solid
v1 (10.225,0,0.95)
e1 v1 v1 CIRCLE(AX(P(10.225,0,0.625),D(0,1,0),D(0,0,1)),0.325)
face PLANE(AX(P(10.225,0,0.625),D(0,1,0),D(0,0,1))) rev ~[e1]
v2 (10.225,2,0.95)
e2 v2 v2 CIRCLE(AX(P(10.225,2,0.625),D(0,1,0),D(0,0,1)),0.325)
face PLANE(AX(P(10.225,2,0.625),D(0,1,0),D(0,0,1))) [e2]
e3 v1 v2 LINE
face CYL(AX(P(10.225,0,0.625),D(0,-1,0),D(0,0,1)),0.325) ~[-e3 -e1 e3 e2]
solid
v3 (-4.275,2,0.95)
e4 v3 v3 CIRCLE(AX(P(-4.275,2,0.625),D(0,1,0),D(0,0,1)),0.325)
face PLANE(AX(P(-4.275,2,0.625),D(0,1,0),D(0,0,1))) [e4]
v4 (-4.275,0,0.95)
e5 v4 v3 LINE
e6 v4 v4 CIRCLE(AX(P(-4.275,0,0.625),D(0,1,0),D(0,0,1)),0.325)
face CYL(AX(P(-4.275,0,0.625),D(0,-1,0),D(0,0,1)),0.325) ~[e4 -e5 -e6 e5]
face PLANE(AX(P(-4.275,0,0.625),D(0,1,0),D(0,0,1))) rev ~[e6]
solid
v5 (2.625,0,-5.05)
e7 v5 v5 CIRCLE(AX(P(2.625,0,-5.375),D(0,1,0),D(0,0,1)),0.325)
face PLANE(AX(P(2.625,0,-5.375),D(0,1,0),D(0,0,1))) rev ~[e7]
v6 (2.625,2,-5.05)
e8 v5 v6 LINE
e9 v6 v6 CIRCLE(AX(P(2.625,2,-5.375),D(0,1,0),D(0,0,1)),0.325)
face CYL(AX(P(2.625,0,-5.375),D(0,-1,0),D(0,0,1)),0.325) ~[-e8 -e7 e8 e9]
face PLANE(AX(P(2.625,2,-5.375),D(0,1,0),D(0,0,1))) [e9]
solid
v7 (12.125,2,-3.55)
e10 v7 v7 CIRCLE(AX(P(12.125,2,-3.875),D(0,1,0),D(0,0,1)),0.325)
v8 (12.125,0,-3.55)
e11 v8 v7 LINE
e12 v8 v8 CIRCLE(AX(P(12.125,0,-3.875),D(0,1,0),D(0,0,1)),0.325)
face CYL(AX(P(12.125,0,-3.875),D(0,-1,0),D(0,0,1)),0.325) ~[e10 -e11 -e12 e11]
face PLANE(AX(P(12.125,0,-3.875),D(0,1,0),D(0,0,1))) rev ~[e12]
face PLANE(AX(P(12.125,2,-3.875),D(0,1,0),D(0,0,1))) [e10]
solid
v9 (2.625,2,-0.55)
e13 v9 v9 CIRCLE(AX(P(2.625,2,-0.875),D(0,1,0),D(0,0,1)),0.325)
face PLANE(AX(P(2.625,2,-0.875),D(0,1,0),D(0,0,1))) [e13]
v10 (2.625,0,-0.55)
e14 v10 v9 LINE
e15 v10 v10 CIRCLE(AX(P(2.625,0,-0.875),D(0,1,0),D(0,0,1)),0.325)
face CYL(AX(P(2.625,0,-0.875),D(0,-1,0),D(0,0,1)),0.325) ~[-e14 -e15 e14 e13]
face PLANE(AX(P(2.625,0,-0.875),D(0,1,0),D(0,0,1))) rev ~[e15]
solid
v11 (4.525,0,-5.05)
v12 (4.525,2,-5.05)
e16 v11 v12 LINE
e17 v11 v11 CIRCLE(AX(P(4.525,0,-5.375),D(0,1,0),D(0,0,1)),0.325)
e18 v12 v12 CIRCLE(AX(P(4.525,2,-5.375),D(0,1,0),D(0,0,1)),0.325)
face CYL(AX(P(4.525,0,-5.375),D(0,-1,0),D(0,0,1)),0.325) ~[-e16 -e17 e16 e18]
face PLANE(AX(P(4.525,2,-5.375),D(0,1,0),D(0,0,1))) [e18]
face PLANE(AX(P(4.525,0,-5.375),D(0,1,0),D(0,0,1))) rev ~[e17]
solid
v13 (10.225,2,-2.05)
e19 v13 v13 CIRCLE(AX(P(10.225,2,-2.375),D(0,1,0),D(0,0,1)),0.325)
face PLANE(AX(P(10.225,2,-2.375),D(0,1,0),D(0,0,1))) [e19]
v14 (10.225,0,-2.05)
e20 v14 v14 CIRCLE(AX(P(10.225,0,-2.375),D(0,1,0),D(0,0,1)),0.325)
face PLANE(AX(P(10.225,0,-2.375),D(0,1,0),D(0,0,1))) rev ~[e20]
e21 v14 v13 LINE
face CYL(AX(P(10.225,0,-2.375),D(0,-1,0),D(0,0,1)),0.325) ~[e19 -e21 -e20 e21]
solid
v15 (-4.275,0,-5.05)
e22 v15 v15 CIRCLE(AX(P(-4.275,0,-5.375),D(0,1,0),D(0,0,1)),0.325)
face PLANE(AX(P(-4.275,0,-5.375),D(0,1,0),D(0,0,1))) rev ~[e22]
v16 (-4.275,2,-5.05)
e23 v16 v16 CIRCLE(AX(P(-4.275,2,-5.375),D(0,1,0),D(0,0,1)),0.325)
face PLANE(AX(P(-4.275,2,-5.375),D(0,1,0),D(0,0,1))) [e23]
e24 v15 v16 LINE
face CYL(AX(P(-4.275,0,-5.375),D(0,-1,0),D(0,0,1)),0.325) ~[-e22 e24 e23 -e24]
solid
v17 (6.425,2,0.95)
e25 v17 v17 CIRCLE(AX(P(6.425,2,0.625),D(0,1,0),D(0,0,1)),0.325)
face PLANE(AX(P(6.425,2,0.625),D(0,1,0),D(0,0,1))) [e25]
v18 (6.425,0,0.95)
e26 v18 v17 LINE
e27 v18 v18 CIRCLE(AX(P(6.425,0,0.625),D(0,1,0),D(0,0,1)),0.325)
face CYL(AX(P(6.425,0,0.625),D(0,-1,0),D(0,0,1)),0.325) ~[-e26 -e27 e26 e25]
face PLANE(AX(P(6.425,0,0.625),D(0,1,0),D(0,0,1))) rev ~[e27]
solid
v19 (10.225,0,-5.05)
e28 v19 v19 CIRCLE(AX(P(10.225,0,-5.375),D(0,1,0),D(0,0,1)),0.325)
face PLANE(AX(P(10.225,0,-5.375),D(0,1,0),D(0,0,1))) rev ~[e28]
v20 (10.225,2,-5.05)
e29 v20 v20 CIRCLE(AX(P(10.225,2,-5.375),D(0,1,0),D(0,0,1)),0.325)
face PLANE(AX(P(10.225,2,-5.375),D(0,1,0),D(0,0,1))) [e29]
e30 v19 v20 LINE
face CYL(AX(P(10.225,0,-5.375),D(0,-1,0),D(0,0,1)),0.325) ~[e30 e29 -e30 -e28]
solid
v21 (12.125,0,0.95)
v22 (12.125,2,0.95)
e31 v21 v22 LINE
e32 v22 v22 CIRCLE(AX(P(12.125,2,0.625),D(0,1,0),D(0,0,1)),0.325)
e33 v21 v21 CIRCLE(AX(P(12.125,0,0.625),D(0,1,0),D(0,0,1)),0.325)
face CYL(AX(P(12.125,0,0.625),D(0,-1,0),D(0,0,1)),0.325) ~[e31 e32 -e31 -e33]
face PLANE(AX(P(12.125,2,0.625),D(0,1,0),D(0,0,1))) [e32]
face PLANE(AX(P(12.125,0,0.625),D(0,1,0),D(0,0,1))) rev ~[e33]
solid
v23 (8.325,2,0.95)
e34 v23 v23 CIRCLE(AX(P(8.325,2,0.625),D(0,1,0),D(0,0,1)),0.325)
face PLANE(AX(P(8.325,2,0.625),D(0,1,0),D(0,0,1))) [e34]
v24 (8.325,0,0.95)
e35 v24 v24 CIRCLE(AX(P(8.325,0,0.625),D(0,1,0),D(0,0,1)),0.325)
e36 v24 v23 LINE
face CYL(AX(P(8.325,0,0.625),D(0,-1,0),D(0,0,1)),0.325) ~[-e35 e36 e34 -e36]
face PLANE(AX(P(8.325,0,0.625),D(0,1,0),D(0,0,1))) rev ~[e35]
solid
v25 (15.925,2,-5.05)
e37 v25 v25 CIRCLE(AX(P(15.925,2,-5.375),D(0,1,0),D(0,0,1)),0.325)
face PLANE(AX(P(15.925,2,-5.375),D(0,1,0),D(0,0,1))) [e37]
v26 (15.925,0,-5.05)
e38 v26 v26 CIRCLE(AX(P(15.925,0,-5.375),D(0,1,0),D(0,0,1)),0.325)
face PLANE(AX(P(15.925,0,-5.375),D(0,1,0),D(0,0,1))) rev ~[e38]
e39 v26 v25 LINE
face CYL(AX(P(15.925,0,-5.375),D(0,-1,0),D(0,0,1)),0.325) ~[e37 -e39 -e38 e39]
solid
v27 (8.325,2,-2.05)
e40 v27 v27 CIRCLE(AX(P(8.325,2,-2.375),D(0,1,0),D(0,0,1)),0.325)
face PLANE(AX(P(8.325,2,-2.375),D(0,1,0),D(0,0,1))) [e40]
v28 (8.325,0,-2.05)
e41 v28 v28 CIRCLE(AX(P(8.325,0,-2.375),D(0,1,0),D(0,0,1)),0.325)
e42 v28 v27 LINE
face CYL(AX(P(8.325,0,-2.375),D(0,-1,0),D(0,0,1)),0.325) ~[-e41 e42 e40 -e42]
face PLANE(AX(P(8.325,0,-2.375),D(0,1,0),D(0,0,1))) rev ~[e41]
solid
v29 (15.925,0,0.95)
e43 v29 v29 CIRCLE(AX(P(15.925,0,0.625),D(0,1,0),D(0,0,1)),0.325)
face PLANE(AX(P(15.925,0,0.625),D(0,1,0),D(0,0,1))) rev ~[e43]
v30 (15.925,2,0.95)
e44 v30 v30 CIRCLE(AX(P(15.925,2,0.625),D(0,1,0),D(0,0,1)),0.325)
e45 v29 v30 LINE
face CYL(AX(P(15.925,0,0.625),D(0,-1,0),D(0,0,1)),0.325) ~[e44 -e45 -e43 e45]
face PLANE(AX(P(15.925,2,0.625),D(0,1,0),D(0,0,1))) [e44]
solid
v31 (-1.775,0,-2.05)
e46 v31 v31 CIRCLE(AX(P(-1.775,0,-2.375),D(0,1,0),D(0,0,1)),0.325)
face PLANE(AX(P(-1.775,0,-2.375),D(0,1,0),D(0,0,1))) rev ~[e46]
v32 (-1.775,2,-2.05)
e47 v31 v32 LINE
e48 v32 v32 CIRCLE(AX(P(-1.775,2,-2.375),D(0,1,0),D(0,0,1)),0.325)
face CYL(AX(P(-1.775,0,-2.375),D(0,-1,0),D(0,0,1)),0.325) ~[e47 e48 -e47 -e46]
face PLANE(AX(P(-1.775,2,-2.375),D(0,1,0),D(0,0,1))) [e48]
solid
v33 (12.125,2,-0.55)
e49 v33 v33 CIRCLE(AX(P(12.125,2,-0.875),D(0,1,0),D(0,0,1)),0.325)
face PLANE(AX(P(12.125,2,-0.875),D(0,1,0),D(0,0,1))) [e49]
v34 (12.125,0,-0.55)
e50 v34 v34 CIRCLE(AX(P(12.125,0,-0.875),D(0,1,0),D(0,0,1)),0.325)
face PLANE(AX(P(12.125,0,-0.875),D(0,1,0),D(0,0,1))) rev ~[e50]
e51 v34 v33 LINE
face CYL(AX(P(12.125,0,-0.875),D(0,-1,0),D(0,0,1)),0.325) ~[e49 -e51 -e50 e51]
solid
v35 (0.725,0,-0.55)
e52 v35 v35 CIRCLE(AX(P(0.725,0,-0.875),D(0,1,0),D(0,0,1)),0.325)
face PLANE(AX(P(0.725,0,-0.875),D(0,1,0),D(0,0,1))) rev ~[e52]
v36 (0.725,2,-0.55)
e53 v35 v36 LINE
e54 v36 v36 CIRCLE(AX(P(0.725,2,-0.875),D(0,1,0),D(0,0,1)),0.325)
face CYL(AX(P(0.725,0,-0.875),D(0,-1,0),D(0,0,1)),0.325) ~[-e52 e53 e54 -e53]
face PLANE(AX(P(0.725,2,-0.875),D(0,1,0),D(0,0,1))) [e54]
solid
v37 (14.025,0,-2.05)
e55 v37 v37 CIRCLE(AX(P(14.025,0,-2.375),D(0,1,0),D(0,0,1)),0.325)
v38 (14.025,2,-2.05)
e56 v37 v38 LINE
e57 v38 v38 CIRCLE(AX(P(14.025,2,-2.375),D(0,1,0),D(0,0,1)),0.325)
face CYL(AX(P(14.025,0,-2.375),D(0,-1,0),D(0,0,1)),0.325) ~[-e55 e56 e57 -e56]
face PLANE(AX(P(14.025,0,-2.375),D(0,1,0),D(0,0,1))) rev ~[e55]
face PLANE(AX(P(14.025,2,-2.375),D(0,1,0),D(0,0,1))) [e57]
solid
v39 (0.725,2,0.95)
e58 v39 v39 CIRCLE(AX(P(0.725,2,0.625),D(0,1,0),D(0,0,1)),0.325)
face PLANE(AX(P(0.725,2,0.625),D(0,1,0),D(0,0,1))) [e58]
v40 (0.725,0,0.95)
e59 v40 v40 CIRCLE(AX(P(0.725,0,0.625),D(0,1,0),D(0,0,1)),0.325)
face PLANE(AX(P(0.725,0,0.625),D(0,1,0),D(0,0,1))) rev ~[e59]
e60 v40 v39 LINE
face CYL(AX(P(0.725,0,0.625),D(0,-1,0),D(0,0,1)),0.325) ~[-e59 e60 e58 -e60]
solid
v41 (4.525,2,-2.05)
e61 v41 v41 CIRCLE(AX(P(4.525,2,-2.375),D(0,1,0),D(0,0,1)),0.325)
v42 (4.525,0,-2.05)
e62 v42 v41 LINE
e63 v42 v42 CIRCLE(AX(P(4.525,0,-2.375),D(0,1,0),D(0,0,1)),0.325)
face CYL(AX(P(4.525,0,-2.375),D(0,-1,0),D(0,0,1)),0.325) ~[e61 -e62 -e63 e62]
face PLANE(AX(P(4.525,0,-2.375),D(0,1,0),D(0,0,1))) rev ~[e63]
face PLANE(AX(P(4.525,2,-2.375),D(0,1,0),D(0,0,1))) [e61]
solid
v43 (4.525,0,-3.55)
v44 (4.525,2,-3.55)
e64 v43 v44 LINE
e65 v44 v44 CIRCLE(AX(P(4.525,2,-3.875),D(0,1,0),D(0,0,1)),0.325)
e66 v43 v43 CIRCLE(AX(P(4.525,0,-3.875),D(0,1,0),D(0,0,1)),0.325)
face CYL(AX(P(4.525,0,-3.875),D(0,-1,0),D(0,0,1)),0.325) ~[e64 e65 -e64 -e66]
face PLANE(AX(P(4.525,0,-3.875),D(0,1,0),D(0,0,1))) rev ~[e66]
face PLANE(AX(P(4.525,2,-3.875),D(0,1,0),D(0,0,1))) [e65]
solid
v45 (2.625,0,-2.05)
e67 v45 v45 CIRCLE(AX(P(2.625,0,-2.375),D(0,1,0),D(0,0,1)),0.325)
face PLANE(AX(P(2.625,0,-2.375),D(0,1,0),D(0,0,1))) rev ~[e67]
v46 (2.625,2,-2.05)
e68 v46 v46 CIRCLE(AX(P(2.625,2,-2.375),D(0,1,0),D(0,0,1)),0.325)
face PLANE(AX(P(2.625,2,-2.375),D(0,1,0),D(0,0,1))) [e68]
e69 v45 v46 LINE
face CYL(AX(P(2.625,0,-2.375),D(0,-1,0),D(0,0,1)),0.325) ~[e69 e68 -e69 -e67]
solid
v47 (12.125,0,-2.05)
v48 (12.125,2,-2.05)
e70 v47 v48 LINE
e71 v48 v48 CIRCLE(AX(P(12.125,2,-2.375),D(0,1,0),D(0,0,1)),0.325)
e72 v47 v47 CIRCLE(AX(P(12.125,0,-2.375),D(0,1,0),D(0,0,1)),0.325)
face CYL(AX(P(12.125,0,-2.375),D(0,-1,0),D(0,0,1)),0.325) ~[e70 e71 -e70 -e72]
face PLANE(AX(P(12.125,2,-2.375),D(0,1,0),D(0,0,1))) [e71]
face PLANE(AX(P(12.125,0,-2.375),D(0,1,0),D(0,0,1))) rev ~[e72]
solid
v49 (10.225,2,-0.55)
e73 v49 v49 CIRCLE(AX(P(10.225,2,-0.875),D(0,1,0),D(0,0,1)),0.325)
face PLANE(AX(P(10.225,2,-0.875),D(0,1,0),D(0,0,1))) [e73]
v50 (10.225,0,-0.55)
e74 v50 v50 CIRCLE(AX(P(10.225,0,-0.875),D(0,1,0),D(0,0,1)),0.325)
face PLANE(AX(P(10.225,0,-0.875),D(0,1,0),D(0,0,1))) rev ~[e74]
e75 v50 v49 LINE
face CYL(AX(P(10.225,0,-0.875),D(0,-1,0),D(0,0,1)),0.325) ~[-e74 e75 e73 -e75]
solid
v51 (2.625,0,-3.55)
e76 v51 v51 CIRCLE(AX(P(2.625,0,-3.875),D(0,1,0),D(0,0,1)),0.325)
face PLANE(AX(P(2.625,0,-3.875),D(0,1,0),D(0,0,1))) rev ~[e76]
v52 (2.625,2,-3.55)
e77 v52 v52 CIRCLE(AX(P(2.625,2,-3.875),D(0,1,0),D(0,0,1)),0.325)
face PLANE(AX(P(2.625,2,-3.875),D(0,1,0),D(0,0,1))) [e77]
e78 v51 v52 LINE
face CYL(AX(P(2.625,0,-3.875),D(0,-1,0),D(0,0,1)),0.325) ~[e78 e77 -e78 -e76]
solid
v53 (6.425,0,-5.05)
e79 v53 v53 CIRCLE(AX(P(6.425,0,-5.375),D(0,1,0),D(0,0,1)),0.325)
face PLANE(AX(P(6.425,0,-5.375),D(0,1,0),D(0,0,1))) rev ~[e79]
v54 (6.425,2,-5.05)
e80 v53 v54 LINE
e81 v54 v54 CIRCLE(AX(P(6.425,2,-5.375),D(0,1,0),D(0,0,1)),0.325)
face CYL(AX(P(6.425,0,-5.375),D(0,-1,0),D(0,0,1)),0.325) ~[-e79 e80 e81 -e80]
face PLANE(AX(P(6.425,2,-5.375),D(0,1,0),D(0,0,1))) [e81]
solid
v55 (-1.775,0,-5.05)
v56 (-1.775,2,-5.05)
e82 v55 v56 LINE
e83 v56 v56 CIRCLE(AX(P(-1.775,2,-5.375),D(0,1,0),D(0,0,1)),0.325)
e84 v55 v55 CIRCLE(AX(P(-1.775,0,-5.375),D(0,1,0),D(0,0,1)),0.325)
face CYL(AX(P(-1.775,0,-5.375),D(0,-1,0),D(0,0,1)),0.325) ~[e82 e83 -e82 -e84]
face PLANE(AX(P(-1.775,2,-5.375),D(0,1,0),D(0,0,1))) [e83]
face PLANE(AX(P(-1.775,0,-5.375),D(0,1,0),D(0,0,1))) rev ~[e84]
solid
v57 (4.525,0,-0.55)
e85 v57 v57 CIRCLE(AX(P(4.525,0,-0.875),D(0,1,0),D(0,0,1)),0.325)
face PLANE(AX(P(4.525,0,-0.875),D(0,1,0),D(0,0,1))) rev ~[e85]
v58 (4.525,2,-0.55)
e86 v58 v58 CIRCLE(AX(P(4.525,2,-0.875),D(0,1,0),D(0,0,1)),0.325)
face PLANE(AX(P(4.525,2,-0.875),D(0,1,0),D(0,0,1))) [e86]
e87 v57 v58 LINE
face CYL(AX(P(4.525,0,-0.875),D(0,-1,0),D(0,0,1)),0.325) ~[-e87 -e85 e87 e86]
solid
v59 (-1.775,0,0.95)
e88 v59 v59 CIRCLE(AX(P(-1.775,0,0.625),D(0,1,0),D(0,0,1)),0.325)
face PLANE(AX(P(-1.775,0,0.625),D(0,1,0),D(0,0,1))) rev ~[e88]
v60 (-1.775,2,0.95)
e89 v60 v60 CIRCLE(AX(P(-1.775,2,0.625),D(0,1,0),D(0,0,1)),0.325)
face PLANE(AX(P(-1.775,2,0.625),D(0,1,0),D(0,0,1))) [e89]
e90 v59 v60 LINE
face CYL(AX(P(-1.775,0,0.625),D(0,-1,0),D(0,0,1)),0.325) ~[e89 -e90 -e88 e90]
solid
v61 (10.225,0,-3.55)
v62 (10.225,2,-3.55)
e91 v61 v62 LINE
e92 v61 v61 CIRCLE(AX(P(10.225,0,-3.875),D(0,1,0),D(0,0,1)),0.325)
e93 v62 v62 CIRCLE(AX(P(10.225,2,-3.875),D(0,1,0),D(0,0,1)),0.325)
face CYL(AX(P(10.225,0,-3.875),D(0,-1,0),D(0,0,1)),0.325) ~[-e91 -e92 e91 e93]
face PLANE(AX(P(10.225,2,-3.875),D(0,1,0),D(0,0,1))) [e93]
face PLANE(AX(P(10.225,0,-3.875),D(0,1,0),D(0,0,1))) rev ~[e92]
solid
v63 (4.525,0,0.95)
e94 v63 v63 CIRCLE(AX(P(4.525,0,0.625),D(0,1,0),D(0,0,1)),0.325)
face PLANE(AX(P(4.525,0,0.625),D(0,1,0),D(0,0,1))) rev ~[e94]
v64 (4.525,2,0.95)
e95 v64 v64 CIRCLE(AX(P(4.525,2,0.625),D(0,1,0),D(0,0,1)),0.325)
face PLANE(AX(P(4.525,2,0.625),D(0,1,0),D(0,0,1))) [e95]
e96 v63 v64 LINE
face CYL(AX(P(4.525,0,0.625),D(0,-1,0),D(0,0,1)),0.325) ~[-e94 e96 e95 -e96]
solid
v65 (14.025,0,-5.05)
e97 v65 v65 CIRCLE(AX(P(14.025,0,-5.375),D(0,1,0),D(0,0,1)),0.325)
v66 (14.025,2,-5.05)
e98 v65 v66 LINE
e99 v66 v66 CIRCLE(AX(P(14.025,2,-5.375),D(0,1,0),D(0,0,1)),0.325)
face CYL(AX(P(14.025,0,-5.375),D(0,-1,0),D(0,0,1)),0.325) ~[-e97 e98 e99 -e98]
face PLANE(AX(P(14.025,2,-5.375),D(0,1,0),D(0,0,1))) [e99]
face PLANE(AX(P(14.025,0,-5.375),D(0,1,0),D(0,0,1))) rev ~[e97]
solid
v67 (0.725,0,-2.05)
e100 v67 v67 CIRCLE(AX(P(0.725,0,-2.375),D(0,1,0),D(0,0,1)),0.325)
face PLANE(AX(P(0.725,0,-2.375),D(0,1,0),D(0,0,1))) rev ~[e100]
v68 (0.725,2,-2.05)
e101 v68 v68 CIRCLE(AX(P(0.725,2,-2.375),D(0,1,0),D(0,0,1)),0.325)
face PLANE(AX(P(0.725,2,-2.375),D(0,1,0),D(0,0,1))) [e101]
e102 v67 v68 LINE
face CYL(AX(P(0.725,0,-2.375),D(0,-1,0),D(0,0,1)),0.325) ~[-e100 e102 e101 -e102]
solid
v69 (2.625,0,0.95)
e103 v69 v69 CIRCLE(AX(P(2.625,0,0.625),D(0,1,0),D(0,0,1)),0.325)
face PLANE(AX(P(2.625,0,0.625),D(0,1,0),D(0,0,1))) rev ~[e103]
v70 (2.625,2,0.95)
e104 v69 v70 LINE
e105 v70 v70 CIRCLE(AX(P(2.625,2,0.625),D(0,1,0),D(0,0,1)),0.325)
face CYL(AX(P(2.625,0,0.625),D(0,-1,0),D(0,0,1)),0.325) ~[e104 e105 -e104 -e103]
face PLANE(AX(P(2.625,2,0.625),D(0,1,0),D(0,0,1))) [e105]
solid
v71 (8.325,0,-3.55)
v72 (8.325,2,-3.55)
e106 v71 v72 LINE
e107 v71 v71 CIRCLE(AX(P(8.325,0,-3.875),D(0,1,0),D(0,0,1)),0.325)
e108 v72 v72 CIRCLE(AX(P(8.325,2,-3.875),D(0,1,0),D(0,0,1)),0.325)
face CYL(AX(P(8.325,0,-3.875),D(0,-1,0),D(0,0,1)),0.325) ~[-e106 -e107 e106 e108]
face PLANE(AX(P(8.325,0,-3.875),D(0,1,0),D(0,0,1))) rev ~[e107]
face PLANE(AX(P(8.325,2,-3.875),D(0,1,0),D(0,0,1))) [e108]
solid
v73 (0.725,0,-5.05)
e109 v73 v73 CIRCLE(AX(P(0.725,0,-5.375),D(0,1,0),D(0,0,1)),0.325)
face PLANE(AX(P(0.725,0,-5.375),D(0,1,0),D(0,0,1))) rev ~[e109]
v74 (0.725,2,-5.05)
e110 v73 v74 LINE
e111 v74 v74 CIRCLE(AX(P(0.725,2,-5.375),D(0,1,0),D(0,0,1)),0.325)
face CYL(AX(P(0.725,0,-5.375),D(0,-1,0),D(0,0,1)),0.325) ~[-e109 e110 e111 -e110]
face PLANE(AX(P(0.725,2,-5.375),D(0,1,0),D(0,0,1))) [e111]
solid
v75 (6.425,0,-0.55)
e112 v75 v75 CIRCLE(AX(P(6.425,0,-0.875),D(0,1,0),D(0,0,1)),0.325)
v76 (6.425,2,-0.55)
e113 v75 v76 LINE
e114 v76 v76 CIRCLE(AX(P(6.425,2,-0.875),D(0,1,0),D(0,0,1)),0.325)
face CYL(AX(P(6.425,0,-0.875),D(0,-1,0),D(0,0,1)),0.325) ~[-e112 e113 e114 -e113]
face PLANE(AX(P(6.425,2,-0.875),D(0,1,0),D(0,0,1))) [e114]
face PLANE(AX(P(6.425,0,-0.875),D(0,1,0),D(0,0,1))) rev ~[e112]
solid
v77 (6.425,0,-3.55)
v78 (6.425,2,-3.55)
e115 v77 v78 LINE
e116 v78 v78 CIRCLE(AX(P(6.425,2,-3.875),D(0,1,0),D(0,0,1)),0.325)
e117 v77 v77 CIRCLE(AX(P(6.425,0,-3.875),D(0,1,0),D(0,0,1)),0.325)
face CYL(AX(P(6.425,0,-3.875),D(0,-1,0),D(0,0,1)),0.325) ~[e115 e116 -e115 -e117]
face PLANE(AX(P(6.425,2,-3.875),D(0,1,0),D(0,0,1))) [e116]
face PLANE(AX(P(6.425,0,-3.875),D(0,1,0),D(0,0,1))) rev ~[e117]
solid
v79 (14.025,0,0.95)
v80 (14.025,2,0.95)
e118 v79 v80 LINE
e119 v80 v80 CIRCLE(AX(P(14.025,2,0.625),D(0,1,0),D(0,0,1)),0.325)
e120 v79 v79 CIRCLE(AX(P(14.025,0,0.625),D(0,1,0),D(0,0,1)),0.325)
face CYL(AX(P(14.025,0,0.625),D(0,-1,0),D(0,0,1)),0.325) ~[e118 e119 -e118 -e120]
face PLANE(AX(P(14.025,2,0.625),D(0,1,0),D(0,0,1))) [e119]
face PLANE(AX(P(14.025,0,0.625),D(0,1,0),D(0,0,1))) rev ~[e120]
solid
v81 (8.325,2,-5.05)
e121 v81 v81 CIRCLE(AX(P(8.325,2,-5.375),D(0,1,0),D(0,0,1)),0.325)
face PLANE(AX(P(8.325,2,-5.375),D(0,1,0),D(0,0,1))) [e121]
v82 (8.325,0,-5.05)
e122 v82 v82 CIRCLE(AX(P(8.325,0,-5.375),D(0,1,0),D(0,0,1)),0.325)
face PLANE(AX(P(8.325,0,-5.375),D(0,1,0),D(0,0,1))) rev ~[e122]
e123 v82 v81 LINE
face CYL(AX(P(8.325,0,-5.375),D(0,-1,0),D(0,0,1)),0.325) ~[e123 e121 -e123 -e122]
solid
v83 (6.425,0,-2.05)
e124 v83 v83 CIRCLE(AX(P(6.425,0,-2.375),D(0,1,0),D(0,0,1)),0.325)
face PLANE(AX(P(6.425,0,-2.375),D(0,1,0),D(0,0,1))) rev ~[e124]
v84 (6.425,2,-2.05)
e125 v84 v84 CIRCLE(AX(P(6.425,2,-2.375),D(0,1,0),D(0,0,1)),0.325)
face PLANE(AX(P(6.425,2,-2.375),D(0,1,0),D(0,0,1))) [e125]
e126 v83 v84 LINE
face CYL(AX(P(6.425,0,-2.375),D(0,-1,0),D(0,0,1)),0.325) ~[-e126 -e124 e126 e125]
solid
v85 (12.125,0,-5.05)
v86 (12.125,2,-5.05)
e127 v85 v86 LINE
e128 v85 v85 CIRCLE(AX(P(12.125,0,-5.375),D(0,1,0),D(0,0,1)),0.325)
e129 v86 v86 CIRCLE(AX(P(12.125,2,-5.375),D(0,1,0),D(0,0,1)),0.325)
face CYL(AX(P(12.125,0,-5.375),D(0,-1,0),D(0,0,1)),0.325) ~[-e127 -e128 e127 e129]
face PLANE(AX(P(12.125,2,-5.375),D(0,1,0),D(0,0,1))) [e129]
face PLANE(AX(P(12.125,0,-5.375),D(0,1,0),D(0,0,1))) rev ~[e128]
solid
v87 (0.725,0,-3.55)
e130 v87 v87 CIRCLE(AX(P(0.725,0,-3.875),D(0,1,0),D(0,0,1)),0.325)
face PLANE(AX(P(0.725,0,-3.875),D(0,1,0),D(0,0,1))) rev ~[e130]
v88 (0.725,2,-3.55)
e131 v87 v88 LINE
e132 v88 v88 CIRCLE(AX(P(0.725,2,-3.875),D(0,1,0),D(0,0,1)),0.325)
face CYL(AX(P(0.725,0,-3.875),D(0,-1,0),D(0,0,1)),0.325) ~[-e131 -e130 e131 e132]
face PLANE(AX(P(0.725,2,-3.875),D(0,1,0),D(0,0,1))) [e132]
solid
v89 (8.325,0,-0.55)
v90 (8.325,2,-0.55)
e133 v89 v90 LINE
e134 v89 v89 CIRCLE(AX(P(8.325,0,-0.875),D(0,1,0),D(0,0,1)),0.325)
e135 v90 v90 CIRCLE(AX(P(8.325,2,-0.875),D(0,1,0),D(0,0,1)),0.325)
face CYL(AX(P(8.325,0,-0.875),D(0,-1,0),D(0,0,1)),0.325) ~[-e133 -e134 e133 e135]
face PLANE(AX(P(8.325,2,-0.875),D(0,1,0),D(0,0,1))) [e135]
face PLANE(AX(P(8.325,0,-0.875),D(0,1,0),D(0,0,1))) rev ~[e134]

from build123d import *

# Parameters (mm, degrees)
SKETCH2_R              = 0.325
BOSS_EXTRUDE1_DEPTH    = 2
BOSS_EXTRUDE1_2_DEPTH  = 2
BOSS_EXTRUDE1_3_DEPTH  = 2
BOSS_EXTRUDE1_4_DEPTH  = 2
BOSS_EXTRUDE1_5_DEPTH  = 2
BOSS_EXTRUDE1_6_DEPTH  = 2
BOSS_EXTRUDE1_7_DEPTH  = 2
BOSS_EXTRUDE1_8_DEPTH  = 2
BOSS_EXTRUDE1_9_DEPTH  = 2
BOSS_EXTRUDE1_10_DEPTH = 2
BOSS_EXTRUDE1_11_DEPTH = 2
BOSS_EXTRUDE1_12_DEPTH = 2
BOSS_EXTRUDE1_13_DEPTH = 2
BOSS_EXTRUDE1_14_DEPTH = 2
BOSS_EXTRUDE1_15_DEPTH = 2
BOSS_EXTRUDE1_16_DEPTH = 2
BOSS_EXTRUDE1_17_DEPTH = 2
BOSS_EXTRUDE1_18_DEPTH = 2
BOSS_EXTRUDE1_19_DEPTH = 2
BOSS_EXTRUDE1_20_DEPTH = 2
BOSS_EXTRUDE1_21_DEPTH = 2
BOSS_EXTRUDE1_22_DEPTH = 2
BOSS_EXTRUDE1_23_DEPTH = 2
BOSS_EXTRUDE1_24_DEPTH = 2
BOSS_EXTRUDE1_25_DEPTH = 2
BOSS_EXTRUDE1_26_DEPTH = 2
BOSS_EXTRUDE1_27_DEPTH = 2
BOSS_EXTRUDE1_28_DEPTH = 2
BOSS_EXTRUDE1_29_DEPTH = 2
BOSS_EXTRUDE1_30_DEPTH = 2
BOSS_EXTRUDE1_31_DEPTH = 2
BOSS_EXTRUDE1_32_DEPTH = 2
BOSS_EXTRUDE1_33_DEPTH = 2
BOSS_EXTRUDE1_34_DEPTH = 2
BOSS_EXTRUDE1_35_DEPTH = 2
BOSS_EXTRUDE1_36_DEPTH = 2
BOSS_EXTRUDE1_37_DEPTH = 2
BOSS_EXTRUDE1_38_DEPTH = 2
BOSS_EXTRUDE1_39_DEPTH = 2
BOSS_EXTRUDE1_40_DEPTH = 2
BOSS_EXTRUDE1_41_DEPTH = 2
BOSS_EXTRUDE1_42_DEPTH = 2
BOSS_EXTRUDE1_43_DEPTH = 2
BOSS_EXTRUDE1_44_DEPTH = 2
BOSS_EXTRUDE1_45_DEPTH = 2


with BuildPart() as part:
    # Sketch2 → Boss-Extrude1 (new body)
    with BuildSketch(Plane(origin=(0, 0, 0), x_dir=(1, 0, 0), z_dir=(0, 1, 0))):
        with Locations(Location((0.725, -0.625, 0), (0, 0, 270))):
            Circle(SKETCH2_R)
    extrude(amount=BOSS_EXTRUDE1_DEPTH)


with BuildPart() as body_2:
    # Sketch2 → Boss-Extrude1 2 (new body)
    with BuildSketch(Plane(origin=(0, 0, 0), x_dir=(1, 0, 0), z_dir=(0, 1, 0))):
        with Locations(Location((2.625, -0.625, 0), (0, 0, 270))):
            Circle(SKETCH2_R)
    extrude(amount=BOSS_EXTRUDE1_2_DEPTH)


with BuildPart() as body_3:
    # Sketch2 → Boss-Extrude1 3 (new body)
    with BuildSketch(Plane(origin=(0, 0, 0), x_dir=(1, 0, 0), z_dir=(0, 1, 0))):
        with Locations(Location((4.525, -0.625, 0), (0, 0, 270))):
            Circle(SKETCH2_R)
    extrude(amount=BOSS_EXTRUDE1_3_DEPTH)


with BuildPart() as body_4:
    # Sketch2 → Boss-Extrude1 4 (new body)
    with BuildSketch(Plane(origin=(0, 0, 0), x_dir=(1, 0, 0), z_dir=(0, 1, 0))):
        with Locations(Location((6.425, -0.625, 0), (0, 0, 270))):
            Circle(SKETCH2_R)
    extrude(amount=BOSS_EXTRUDE1_4_DEPTH)


with BuildPart() as body_5:
    # Sketch2 → Boss-Extrude1 5 (new body)
    with BuildSketch(Plane(origin=(0, 0, 0), x_dir=(1, 0, 0), z_dir=(0, 1, 0))):
        with Locations(Location((8.325, -0.625, 0), (0, 0, 270))):
            Circle(SKETCH2_R)
    extrude(amount=BOSS_EXTRUDE1_5_DEPTH)


with BuildPart() as body_6:
    # Sketch2 → Boss-Extrude1 6 (new body)
    with BuildSketch(Plane(origin=(0, 0, 0), x_dir=(1, 0, 0), z_dir=(0, 1, 0))):
        with Locations(Location((10.225, -0.625, 0), (0, 0, 270))):
            Circle(SKETCH2_R)
    extrude(amount=BOSS_EXTRUDE1_6_DEPTH)


with BuildPart() as body_7:
    # Sketch2 → Boss-Extrude1 7 (new body)
    with BuildSketch(Plane(origin=(0, 0, 0), x_dir=(1, 0, 0), z_dir=(0, 1, 0))):
        with Locations(Location((12.125, -0.625, 0), (0, 0, 270))):
            Circle(SKETCH2_R)
    extrude(amount=BOSS_EXTRUDE1_7_DEPTH)


with BuildPart() as body_8:
    # Sketch2 → Boss-Extrude1 8 (new body)
    with BuildSketch(Plane(origin=(0, 0, 0), x_dir=(1, 0, 0), z_dir=(0, 1, 0))):
        with Locations(Location((14.025, -0.625, 0), (0, 0, 270))):
            Circle(SKETCH2_R)
    extrude(amount=BOSS_EXTRUDE1_8_DEPTH)


with BuildPart() as body_9:
    # Sketch2 → Boss-Extrude1 9 (new body)
    with BuildSketch(Plane(origin=(0, 0, 0), x_dir=(1, 0, 0), z_dir=(0, 1, 0))):
        with Locations(Location((15.925, -0.625, 0), (0, 0, 270))):
            Circle(SKETCH2_R)
    extrude(amount=BOSS_EXTRUDE1_9_DEPTH)


with BuildPart() as body_10:
    # Sketch2 → Boss-Extrude1 10 (new body)
    with BuildSketch(Plane(origin=(0, 0, 0), x_dir=(1, 0, 0), z_dir=(0, 1, 0))):
        with Locations(Location((2.625, 0.875, 0), (0, 0, 270))):
            Circle(SKETCH2_R)
    extrude(amount=BOSS_EXTRUDE1_10_DEPTH)


with BuildPart() as body_11:
    # Sketch2 → Boss-Extrude1 11 (new body)
    with BuildSketch(Plane(origin=(0, 0, 0), x_dir=(1, 0, 0), z_dir=(0, 1, 0))):
        with Locations(Location((4.525, 0.875, 0), (0, 0, 270))):
            Circle(SKETCH2_R)
    extrude(amount=BOSS_EXTRUDE1_11_DEPTH)


with BuildPart() as body_12:
    # Sketch2 → Boss-Extrude1 12 (new body)
    with BuildSketch(Plane(origin=(0, 0, 0), x_dir=(1, 0, 0), z_dir=(0, 1, 0))):
        with Locations(Location((6.425, 0.875, 0), (0, 0, 270))):
            Circle(SKETCH2_R)
    extrude(amount=BOSS_EXTRUDE1_12_DEPTH)


with BuildPart() as body_13:
    # Sketch2 → Boss-Extrude1 13 (new body)
    with BuildSketch(Plane(origin=(0, 0, 0), x_dir=(1, 0, 0), z_dir=(0, 1, 0))):
        with Locations(Location((8.325, 0.875, 0), (0, 0, 270))):
            Circle(SKETCH2_R)
    extrude(amount=BOSS_EXTRUDE1_13_DEPTH)


with BuildPart() as body_14:
    # Sketch2 → Boss-Extrude1 14 (new body)
    with BuildSketch(Plane(origin=(0, 0, 0), x_dir=(1, 0, 0), z_dir=(0, 1, 0))):
        with Locations(Location((10.225, 0.875, 0), (0, 0, 270))):
            Circle(SKETCH2_R)
    extrude(amount=BOSS_EXTRUDE1_14_DEPTH)


with BuildPart() as body_15:
    # Sketch2 → Boss-Extrude1 15 (new body)
    with BuildSketch(Plane(origin=(0, 0, 0), x_dir=(1, 0, 0), z_dir=(0, 1, 0))):
        with Locations(Location((12.125, 0.875, 0), (0, 0, 270))):
            Circle(SKETCH2_R)
    extrude(amount=BOSS_EXTRUDE1_15_DEPTH)


with BuildPart() as body_16:
    # Sketch2 → Boss-Extrude1 16 (new body)
    with BuildSketch(Plane(origin=(0, 0, 0), x_dir=(1, 0, 0), z_dir=(0, 1, 0))):
        with Locations(Location((2.625, 2.375, 0), (0, 0, 270))):
            Circle(SKETCH2_R)
    extrude(amount=BOSS_EXTRUDE1_16_DEPTH)


with BuildPart() as body_17:
    # Sketch2 → Boss-Extrude1 17 (new body)
    with BuildSketch(Plane(origin=(0, 0, 0), x_dir=(1, 0, 0), z_dir=(0, 1, 0))):
        with Locations(Location((4.525, 2.375, 0), (0, 0, 270))):
            Circle(SKETCH2_R)
    extrude(amount=BOSS_EXTRUDE1_17_DEPTH)


with BuildPart() as body_18:
    # Sketch2 → Boss-Extrude1 18 (new body)
    with BuildSketch(Plane(origin=(0, 0, 0), x_dir=(1, 0, 0), z_dir=(0, 1, 0))):
        with Locations(Location((6.425, 2.375, 0), (0, 0, 270))):
            Circle(SKETCH2_R)
    extrude(amount=BOSS_EXTRUDE1_18_DEPTH)


with BuildPart() as body_19:
    # Sketch2 → Boss-Extrude1 19 (new body)
    with BuildSketch(Plane(origin=(0, 0, 0), x_dir=(1, 0, 0), z_dir=(0, 1, 0))):
        with Locations(Location((8.325, 2.375, 0), (0, 0, 270))):
            Circle(SKETCH2_R)
    extrude(amount=BOSS_EXTRUDE1_19_DEPTH)


with BuildPart() as body_20:
    # Sketch2 → Boss-Extrude1 20 (new body)
    with BuildSketch(Plane(origin=(0, 0, 0), x_dir=(1, 0, 0), z_dir=(0, 1, 0))):
        with Locations(Location((10.225, 2.375, 0), (0, 0, 270))):
            Circle(SKETCH2_R)
    extrude(amount=BOSS_EXTRUDE1_20_DEPTH)


with BuildPart() as body_21:
    # Sketch2 → Boss-Extrude1 21 (new body)
    with BuildSketch(Plane(origin=(0, 0, 0), x_dir=(1, 0, 0), z_dir=(0, 1, 0))):
        with Locations(Location((12.125, 2.375, 0), (0, 0, 270))):
            Circle(SKETCH2_R)
    extrude(amount=BOSS_EXTRUDE1_21_DEPTH)


with BuildPart() as body_22:
    # Sketch2 → Boss-Extrude1 22 (new body)
    with BuildSketch(Plane(origin=(0, 0, 0), x_dir=(1, 0, 0), z_dir=(0, 1, 0))):
        with Locations(Location((14.025, 2.375, 0), (0, 0, 270))):
            Circle(SKETCH2_R)
    extrude(amount=BOSS_EXTRUDE1_22_DEPTH)


with BuildPart() as body_23:
    # Sketch2 → Boss-Extrude1 23 (new body)
    with BuildSketch(Plane(origin=(0, 0, 0), x_dir=(1, 0, 0), z_dir=(0, 1, 0))):
        with Locations(Location((2.625, 3.875, 0), (0, 0, 270))):
            Circle(SKETCH2_R)
    extrude(amount=BOSS_EXTRUDE1_23_DEPTH)


with BuildPart() as body_24:
    # Sketch2 → Boss-Extrude1 24 (new body)
    with BuildSketch(Plane(origin=(0, 0, 0), x_dir=(1, 0, 0), z_dir=(0, 1, 0))):
        with Locations(Location((4.525, 3.875, 0), (0, 0, 270))):
            Circle(SKETCH2_R)
    extrude(amount=BOSS_EXTRUDE1_24_DEPTH)


with BuildPart() as body_25:
    # Sketch2 → Boss-Extrude1 25 (new body)
    with BuildSketch(Plane(origin=(0, 0, 0), x_dir=(1, 0, 0), z_dir=(0, 1, 0))):
        with Locations(Location((6.425, 3.875, 0), (0, 0, 270))):
            Circle(SKETCH2_R)
    extrude(amount=BOSS_EXTRUDE1_25_DEPTH)


with BuildPart() as body_26:
    # Sketch2 → Boss-Extrude1 26 (new body)
    with BuildSketch(Plane(origin=(0, 0, 0), x_dir=(1, 0, 0), z_dir=(0, 1, 0))):
        with Locations(Location((8.325, 3.875, 0), (0, 0, 270))):
            Circle(SKETCH2_R)
    extrude(amount=BOSS_EXTRUDE1_26_DEPTH)


with BuildPart() as body_27:
    # Sketch2 → Boss-Extrude1 27 (new body)
    with BuildSketch(Plane(origin=(0, 0, 0), x_dir=(1, 0, 0), z_dir=(0, 1, 0))):
        with Locations(Location((10.225, 3.875, 0), (0, 0, 270))):
            Circle(SKETCH2_R)
    extrude(amount=BOSS_EXTRUDE1_27_DEPTH)


with BuildPart() as body_28:
    # Sketch2 → Boss-Extrude1 28 (new body)
    with BuildSketch(Plane(origin=(0, 0, 0), x_dir=(1, 0, 0), z_dir=(0, 1, 0))):
        with Locations(Location((12.125, 3.875, 0), (0, 0, 270))):
            Circle(SKETCH2_R)
    extrude(amount=BOSS_EXTRUDE1_28_DEPTH)


with BuildPart() as body_29:
    # Sketch2 → Boss-Extrude1 29 (new body)
    with BuildSketch(Plane(origin=(0, 0, 0), x_dir=(1, 0, 0), z_dir=(0, 1, 0))):
        with Locations(Location((2.625, 5.375, 0), (0, 0, 270))):
            Circle(SKETCH2_R)
    extrude(amount=BOSS_EXTRUDE1_29_DEPTH)


with BuildPart() as body_30:
    # Sketch2 → Boss-Extrude1 30 (new body)
    with BuildSketch(Plane(origin=(0, 0, 0), x_dir=(1, 0, 0), z_dir=(0, 1, 0))):
        with Locations(Location((4.525, 5.375, 0), (0, 0, 270))):
            Circle(SKETCH2_R)
    extrude(amount=BOSS_EXTRUDE1_30_DEPTH)


with BuildPart() as body_31:
    # Sketch2 → Boss-Extrude1 31 (new body)
    with BuildSketch(Plane(origin=(0, 0, 0), x_dir=(1, 0, 0), z_dir=(0, 1, 0))):
        with Locations(Location((6.425, 5.375, 0), (0, 0, 270))):
            Circle(SKETCH2_R)
    extrude(amount=BOSS_EXTRUDE1_31_DEPTH)


with BuildPart() as body_32:
    # Sketch2 → Boss-Extrude1 32 (new body)
    with BuildSketch(Plane(origin=(0, 0, 0), x_dir=(1, 0, 0), z_dir=(0, 1, 0))):
        with Locations(Location((8.325, 5.375, 0), (0, 0, 270))):
            Circle(SKETCH2_R)
    extrude(amount=BOSS_EXTRUDE1_32_DEPTH)


with BuildPart() as body_33:
    # Sketch2 → Boss-Extrude1 33 (new body)
    with BuildSketch(Plane(origin=(0, 0, 0), x_dir=(1, 0, 0), z_dir=(0, 1, 0))):
        with Locations(Location((10.225, 5.375, 0), (0, 0, 270))):
            Circle(SKETCH2_R)
    extrude(amount=BOSS_EXTRUDE1_33_DEPTH)


with BuildPart() as body_34:
    # Sketch2 → Boss-Extrude1 34 (new body)
    with BuildSketch(Plane(origin=(0, 0, 0), x_dir=(1, 0, 0), z_dir=(0, 1, 0))):
        with Locations(Location((12.125, 5.375, 0), (0, 0, 270))):
            Circle(SKETCH2_R)
    extrude(amount=BOSS_EXTRUDE1_34_DEPTH)


with BuildPart() as body_35:
    # Sketch2 → Boss-Extrude1 35 (new body)
    with BuildSketch(Plane(origin=(0, 0, 0), x_dir=(1, 0, 0), z_dir=(0, 1, 0))):
        with Locations(Location((14.025, 5.375, 0), (0, 0, 270))):
            Circle(SKETCH2_R)
    extrude(amount=BOSS_EXTRUDE1_35_DEPTH)


with BuildPart() as body_36:
    # Sketch2 → Boss-Extrude1 36 (new body)
    with BuildSketch(Plane(origin=(0, 0, 0), x_dir=(1, 0, 0), z_dir=(0, 1, 0))):
        with Locations(Location((15.925, 5.375, 0), (0, 0, 270))):
            Circle(SKETCH2_R)
    extrude(amount=BOSS_EXTRUDE1_36_DEPTH)


with BuildPart() as body_37:
    # Sketch2 → Boss-Extrude1 37 (new body)
    with BuildSketch(Plane(origin=(0, 0, 0), x_dir=(1, 0, 0), z_dir=(0, 1, 0))):
        with Locations(Location((0.725, 0.875, 0), (0, 0, 270))):
            Circle(SKETCH2_R)
    extrude(amount=BOSS_EXTRUDE1_37_DEPTH)


with BuildPart() as body_38:
    # Sketch2 → Boss-Extrude1 38 (new body)
    with BuildSketch(Plane(origin=(0, 0, 0), x_dir=(1, 0, 0), z_dir=(0, 1, 0))):
        with Locations(Location((0.725, 2.375, 0), (0, 0, 270))):
            Circle(SKETCH2_R)
    extrude(amount=BOSS_EXTRUDE1_38_DEPTH)


with BuildPart() as body_39:
    # Sketch2 → Boss-Extrude1 39 (new body)
    with BuildSketch(Plane(origin=(0, 0, 0), x_dir=(1, 0, 0), z_dir=(0, 1, 0))):
        with Locations(Location((0.725, 3.875, 0), (0, 0, 270))):
            Circle(SKETCH2_R)
    extrude(amount=BOSS_EXTRUDE1_39_DEPTH)


with BuildPart() as body_40:
    # Sketch2 → Boss-Extrude1 40 (new body)
    with BuildSketch(Plane(origin=(0, 0, 0), x_dir=(1, 0, 0), z_dir=(0, 1, 0))):
        with Locations(Location((0.725, 5.375, 0), (0, 0, 270))):
            Circle(SKETCH2_R)
    extrude(amount=BOSS_EXTRUDE1_40_DEPTH)


with BuildPart() as body_41:
    # Sketch2 → Boss-Extrude1 41 (new body)
    with BuildSketch(Plane(origin=(0, 0, 0), x_dir=(1, 0, 0), z_dir=(0, 1, 0))):
        with Locations(Location((-1.775, -0.625, 0), (0, 0, 270))):
            Circle(SKETCH2_R)
    extrude(amount=BOSS_EXTRUDE1_41_DEPTH)


with BuildPart() as body_42:
    # Sketch2 → Boss-Extrude1 42 (new body)
    with BuildSketch(Plane(origin=(0, 0, 0), x_dir=(1, 0, 0), z_dir=(0, 1, 0))):
        with Locations(Location((-4.275, -0.625, 0), (0, 0, 270))):
            Circle(SKETCH2_R)
    extrude(amount=BOSS_EXTRUDE1_42_DEPTH)


with BuildPart() as body_43:
    # Sketch2 → Boss-Extrude1 43 (new body)
    with BuildSketch(Plane(origin=(0, 0, 0), x_dir=(1, 0, 0), z_dir=(0, 1, 0))):
        with Locations(Location((-4.275, 5.375, 0), (0, 0, 270))):
            Circle(SKETCH2_R)
    extrude(amount=BOSS_EXTRUDE1_43_DEPTH)


with BuildPart() as body_44:
    # Sketch2 → Boss-Extrude1 44 (new body)
    with BuildSketch(Plane(origin=(0, 0, 0), x_dir=(1, 0, 0), z_dir=(0, 1, 0))):
        with Locations(Location((-1.775, 2.375, 0), (0, 0, 270))):
            Circle(SKETCH2_R)
    extrude(amount=BOSS_EXTRUDE1_44_DEPTH)


with BuildPart() as body_45:
    # Sketch2 → Boss-Extrude1 45 (new body)
    with BuildSketch(Plane(origin=(0, 0, 0), x_dir=(1, 0, 0), z_dir=(0, 1, 0))):
        with Locations(Location((-1.775, 5.375, 0), (0, 0, 270))):
            Circle(SKETCH2_R)
    extrude(amount=BOSS_EXTRUDE1_45_DEPTH)


solid = Compound([part.part, body_2.part, body_3.part, body_4.part, body_5.part, body_6.part, body_7.part, body_8.part, body_9.part, body_10.part, body_11.part, body_12.part, body_13.part, body_14.part, body_15.part, body_16.part, body_17.part, body_18.part, body_19.part, body_20.part, body_21.part, body_22.part, body_23.part, body_24.part, body_25.part, body_26.part, body_27.part, body_28.part, body_29.part, body_30.part, body_31.part, body_32.part, body_33.part, body_34.part, body_35.part, body_36.part, body_37.part, body_38.part, body_39.part, body_40.part, body_41.part, body_42.part, body_43.part, body_44.part, body_45.part])
